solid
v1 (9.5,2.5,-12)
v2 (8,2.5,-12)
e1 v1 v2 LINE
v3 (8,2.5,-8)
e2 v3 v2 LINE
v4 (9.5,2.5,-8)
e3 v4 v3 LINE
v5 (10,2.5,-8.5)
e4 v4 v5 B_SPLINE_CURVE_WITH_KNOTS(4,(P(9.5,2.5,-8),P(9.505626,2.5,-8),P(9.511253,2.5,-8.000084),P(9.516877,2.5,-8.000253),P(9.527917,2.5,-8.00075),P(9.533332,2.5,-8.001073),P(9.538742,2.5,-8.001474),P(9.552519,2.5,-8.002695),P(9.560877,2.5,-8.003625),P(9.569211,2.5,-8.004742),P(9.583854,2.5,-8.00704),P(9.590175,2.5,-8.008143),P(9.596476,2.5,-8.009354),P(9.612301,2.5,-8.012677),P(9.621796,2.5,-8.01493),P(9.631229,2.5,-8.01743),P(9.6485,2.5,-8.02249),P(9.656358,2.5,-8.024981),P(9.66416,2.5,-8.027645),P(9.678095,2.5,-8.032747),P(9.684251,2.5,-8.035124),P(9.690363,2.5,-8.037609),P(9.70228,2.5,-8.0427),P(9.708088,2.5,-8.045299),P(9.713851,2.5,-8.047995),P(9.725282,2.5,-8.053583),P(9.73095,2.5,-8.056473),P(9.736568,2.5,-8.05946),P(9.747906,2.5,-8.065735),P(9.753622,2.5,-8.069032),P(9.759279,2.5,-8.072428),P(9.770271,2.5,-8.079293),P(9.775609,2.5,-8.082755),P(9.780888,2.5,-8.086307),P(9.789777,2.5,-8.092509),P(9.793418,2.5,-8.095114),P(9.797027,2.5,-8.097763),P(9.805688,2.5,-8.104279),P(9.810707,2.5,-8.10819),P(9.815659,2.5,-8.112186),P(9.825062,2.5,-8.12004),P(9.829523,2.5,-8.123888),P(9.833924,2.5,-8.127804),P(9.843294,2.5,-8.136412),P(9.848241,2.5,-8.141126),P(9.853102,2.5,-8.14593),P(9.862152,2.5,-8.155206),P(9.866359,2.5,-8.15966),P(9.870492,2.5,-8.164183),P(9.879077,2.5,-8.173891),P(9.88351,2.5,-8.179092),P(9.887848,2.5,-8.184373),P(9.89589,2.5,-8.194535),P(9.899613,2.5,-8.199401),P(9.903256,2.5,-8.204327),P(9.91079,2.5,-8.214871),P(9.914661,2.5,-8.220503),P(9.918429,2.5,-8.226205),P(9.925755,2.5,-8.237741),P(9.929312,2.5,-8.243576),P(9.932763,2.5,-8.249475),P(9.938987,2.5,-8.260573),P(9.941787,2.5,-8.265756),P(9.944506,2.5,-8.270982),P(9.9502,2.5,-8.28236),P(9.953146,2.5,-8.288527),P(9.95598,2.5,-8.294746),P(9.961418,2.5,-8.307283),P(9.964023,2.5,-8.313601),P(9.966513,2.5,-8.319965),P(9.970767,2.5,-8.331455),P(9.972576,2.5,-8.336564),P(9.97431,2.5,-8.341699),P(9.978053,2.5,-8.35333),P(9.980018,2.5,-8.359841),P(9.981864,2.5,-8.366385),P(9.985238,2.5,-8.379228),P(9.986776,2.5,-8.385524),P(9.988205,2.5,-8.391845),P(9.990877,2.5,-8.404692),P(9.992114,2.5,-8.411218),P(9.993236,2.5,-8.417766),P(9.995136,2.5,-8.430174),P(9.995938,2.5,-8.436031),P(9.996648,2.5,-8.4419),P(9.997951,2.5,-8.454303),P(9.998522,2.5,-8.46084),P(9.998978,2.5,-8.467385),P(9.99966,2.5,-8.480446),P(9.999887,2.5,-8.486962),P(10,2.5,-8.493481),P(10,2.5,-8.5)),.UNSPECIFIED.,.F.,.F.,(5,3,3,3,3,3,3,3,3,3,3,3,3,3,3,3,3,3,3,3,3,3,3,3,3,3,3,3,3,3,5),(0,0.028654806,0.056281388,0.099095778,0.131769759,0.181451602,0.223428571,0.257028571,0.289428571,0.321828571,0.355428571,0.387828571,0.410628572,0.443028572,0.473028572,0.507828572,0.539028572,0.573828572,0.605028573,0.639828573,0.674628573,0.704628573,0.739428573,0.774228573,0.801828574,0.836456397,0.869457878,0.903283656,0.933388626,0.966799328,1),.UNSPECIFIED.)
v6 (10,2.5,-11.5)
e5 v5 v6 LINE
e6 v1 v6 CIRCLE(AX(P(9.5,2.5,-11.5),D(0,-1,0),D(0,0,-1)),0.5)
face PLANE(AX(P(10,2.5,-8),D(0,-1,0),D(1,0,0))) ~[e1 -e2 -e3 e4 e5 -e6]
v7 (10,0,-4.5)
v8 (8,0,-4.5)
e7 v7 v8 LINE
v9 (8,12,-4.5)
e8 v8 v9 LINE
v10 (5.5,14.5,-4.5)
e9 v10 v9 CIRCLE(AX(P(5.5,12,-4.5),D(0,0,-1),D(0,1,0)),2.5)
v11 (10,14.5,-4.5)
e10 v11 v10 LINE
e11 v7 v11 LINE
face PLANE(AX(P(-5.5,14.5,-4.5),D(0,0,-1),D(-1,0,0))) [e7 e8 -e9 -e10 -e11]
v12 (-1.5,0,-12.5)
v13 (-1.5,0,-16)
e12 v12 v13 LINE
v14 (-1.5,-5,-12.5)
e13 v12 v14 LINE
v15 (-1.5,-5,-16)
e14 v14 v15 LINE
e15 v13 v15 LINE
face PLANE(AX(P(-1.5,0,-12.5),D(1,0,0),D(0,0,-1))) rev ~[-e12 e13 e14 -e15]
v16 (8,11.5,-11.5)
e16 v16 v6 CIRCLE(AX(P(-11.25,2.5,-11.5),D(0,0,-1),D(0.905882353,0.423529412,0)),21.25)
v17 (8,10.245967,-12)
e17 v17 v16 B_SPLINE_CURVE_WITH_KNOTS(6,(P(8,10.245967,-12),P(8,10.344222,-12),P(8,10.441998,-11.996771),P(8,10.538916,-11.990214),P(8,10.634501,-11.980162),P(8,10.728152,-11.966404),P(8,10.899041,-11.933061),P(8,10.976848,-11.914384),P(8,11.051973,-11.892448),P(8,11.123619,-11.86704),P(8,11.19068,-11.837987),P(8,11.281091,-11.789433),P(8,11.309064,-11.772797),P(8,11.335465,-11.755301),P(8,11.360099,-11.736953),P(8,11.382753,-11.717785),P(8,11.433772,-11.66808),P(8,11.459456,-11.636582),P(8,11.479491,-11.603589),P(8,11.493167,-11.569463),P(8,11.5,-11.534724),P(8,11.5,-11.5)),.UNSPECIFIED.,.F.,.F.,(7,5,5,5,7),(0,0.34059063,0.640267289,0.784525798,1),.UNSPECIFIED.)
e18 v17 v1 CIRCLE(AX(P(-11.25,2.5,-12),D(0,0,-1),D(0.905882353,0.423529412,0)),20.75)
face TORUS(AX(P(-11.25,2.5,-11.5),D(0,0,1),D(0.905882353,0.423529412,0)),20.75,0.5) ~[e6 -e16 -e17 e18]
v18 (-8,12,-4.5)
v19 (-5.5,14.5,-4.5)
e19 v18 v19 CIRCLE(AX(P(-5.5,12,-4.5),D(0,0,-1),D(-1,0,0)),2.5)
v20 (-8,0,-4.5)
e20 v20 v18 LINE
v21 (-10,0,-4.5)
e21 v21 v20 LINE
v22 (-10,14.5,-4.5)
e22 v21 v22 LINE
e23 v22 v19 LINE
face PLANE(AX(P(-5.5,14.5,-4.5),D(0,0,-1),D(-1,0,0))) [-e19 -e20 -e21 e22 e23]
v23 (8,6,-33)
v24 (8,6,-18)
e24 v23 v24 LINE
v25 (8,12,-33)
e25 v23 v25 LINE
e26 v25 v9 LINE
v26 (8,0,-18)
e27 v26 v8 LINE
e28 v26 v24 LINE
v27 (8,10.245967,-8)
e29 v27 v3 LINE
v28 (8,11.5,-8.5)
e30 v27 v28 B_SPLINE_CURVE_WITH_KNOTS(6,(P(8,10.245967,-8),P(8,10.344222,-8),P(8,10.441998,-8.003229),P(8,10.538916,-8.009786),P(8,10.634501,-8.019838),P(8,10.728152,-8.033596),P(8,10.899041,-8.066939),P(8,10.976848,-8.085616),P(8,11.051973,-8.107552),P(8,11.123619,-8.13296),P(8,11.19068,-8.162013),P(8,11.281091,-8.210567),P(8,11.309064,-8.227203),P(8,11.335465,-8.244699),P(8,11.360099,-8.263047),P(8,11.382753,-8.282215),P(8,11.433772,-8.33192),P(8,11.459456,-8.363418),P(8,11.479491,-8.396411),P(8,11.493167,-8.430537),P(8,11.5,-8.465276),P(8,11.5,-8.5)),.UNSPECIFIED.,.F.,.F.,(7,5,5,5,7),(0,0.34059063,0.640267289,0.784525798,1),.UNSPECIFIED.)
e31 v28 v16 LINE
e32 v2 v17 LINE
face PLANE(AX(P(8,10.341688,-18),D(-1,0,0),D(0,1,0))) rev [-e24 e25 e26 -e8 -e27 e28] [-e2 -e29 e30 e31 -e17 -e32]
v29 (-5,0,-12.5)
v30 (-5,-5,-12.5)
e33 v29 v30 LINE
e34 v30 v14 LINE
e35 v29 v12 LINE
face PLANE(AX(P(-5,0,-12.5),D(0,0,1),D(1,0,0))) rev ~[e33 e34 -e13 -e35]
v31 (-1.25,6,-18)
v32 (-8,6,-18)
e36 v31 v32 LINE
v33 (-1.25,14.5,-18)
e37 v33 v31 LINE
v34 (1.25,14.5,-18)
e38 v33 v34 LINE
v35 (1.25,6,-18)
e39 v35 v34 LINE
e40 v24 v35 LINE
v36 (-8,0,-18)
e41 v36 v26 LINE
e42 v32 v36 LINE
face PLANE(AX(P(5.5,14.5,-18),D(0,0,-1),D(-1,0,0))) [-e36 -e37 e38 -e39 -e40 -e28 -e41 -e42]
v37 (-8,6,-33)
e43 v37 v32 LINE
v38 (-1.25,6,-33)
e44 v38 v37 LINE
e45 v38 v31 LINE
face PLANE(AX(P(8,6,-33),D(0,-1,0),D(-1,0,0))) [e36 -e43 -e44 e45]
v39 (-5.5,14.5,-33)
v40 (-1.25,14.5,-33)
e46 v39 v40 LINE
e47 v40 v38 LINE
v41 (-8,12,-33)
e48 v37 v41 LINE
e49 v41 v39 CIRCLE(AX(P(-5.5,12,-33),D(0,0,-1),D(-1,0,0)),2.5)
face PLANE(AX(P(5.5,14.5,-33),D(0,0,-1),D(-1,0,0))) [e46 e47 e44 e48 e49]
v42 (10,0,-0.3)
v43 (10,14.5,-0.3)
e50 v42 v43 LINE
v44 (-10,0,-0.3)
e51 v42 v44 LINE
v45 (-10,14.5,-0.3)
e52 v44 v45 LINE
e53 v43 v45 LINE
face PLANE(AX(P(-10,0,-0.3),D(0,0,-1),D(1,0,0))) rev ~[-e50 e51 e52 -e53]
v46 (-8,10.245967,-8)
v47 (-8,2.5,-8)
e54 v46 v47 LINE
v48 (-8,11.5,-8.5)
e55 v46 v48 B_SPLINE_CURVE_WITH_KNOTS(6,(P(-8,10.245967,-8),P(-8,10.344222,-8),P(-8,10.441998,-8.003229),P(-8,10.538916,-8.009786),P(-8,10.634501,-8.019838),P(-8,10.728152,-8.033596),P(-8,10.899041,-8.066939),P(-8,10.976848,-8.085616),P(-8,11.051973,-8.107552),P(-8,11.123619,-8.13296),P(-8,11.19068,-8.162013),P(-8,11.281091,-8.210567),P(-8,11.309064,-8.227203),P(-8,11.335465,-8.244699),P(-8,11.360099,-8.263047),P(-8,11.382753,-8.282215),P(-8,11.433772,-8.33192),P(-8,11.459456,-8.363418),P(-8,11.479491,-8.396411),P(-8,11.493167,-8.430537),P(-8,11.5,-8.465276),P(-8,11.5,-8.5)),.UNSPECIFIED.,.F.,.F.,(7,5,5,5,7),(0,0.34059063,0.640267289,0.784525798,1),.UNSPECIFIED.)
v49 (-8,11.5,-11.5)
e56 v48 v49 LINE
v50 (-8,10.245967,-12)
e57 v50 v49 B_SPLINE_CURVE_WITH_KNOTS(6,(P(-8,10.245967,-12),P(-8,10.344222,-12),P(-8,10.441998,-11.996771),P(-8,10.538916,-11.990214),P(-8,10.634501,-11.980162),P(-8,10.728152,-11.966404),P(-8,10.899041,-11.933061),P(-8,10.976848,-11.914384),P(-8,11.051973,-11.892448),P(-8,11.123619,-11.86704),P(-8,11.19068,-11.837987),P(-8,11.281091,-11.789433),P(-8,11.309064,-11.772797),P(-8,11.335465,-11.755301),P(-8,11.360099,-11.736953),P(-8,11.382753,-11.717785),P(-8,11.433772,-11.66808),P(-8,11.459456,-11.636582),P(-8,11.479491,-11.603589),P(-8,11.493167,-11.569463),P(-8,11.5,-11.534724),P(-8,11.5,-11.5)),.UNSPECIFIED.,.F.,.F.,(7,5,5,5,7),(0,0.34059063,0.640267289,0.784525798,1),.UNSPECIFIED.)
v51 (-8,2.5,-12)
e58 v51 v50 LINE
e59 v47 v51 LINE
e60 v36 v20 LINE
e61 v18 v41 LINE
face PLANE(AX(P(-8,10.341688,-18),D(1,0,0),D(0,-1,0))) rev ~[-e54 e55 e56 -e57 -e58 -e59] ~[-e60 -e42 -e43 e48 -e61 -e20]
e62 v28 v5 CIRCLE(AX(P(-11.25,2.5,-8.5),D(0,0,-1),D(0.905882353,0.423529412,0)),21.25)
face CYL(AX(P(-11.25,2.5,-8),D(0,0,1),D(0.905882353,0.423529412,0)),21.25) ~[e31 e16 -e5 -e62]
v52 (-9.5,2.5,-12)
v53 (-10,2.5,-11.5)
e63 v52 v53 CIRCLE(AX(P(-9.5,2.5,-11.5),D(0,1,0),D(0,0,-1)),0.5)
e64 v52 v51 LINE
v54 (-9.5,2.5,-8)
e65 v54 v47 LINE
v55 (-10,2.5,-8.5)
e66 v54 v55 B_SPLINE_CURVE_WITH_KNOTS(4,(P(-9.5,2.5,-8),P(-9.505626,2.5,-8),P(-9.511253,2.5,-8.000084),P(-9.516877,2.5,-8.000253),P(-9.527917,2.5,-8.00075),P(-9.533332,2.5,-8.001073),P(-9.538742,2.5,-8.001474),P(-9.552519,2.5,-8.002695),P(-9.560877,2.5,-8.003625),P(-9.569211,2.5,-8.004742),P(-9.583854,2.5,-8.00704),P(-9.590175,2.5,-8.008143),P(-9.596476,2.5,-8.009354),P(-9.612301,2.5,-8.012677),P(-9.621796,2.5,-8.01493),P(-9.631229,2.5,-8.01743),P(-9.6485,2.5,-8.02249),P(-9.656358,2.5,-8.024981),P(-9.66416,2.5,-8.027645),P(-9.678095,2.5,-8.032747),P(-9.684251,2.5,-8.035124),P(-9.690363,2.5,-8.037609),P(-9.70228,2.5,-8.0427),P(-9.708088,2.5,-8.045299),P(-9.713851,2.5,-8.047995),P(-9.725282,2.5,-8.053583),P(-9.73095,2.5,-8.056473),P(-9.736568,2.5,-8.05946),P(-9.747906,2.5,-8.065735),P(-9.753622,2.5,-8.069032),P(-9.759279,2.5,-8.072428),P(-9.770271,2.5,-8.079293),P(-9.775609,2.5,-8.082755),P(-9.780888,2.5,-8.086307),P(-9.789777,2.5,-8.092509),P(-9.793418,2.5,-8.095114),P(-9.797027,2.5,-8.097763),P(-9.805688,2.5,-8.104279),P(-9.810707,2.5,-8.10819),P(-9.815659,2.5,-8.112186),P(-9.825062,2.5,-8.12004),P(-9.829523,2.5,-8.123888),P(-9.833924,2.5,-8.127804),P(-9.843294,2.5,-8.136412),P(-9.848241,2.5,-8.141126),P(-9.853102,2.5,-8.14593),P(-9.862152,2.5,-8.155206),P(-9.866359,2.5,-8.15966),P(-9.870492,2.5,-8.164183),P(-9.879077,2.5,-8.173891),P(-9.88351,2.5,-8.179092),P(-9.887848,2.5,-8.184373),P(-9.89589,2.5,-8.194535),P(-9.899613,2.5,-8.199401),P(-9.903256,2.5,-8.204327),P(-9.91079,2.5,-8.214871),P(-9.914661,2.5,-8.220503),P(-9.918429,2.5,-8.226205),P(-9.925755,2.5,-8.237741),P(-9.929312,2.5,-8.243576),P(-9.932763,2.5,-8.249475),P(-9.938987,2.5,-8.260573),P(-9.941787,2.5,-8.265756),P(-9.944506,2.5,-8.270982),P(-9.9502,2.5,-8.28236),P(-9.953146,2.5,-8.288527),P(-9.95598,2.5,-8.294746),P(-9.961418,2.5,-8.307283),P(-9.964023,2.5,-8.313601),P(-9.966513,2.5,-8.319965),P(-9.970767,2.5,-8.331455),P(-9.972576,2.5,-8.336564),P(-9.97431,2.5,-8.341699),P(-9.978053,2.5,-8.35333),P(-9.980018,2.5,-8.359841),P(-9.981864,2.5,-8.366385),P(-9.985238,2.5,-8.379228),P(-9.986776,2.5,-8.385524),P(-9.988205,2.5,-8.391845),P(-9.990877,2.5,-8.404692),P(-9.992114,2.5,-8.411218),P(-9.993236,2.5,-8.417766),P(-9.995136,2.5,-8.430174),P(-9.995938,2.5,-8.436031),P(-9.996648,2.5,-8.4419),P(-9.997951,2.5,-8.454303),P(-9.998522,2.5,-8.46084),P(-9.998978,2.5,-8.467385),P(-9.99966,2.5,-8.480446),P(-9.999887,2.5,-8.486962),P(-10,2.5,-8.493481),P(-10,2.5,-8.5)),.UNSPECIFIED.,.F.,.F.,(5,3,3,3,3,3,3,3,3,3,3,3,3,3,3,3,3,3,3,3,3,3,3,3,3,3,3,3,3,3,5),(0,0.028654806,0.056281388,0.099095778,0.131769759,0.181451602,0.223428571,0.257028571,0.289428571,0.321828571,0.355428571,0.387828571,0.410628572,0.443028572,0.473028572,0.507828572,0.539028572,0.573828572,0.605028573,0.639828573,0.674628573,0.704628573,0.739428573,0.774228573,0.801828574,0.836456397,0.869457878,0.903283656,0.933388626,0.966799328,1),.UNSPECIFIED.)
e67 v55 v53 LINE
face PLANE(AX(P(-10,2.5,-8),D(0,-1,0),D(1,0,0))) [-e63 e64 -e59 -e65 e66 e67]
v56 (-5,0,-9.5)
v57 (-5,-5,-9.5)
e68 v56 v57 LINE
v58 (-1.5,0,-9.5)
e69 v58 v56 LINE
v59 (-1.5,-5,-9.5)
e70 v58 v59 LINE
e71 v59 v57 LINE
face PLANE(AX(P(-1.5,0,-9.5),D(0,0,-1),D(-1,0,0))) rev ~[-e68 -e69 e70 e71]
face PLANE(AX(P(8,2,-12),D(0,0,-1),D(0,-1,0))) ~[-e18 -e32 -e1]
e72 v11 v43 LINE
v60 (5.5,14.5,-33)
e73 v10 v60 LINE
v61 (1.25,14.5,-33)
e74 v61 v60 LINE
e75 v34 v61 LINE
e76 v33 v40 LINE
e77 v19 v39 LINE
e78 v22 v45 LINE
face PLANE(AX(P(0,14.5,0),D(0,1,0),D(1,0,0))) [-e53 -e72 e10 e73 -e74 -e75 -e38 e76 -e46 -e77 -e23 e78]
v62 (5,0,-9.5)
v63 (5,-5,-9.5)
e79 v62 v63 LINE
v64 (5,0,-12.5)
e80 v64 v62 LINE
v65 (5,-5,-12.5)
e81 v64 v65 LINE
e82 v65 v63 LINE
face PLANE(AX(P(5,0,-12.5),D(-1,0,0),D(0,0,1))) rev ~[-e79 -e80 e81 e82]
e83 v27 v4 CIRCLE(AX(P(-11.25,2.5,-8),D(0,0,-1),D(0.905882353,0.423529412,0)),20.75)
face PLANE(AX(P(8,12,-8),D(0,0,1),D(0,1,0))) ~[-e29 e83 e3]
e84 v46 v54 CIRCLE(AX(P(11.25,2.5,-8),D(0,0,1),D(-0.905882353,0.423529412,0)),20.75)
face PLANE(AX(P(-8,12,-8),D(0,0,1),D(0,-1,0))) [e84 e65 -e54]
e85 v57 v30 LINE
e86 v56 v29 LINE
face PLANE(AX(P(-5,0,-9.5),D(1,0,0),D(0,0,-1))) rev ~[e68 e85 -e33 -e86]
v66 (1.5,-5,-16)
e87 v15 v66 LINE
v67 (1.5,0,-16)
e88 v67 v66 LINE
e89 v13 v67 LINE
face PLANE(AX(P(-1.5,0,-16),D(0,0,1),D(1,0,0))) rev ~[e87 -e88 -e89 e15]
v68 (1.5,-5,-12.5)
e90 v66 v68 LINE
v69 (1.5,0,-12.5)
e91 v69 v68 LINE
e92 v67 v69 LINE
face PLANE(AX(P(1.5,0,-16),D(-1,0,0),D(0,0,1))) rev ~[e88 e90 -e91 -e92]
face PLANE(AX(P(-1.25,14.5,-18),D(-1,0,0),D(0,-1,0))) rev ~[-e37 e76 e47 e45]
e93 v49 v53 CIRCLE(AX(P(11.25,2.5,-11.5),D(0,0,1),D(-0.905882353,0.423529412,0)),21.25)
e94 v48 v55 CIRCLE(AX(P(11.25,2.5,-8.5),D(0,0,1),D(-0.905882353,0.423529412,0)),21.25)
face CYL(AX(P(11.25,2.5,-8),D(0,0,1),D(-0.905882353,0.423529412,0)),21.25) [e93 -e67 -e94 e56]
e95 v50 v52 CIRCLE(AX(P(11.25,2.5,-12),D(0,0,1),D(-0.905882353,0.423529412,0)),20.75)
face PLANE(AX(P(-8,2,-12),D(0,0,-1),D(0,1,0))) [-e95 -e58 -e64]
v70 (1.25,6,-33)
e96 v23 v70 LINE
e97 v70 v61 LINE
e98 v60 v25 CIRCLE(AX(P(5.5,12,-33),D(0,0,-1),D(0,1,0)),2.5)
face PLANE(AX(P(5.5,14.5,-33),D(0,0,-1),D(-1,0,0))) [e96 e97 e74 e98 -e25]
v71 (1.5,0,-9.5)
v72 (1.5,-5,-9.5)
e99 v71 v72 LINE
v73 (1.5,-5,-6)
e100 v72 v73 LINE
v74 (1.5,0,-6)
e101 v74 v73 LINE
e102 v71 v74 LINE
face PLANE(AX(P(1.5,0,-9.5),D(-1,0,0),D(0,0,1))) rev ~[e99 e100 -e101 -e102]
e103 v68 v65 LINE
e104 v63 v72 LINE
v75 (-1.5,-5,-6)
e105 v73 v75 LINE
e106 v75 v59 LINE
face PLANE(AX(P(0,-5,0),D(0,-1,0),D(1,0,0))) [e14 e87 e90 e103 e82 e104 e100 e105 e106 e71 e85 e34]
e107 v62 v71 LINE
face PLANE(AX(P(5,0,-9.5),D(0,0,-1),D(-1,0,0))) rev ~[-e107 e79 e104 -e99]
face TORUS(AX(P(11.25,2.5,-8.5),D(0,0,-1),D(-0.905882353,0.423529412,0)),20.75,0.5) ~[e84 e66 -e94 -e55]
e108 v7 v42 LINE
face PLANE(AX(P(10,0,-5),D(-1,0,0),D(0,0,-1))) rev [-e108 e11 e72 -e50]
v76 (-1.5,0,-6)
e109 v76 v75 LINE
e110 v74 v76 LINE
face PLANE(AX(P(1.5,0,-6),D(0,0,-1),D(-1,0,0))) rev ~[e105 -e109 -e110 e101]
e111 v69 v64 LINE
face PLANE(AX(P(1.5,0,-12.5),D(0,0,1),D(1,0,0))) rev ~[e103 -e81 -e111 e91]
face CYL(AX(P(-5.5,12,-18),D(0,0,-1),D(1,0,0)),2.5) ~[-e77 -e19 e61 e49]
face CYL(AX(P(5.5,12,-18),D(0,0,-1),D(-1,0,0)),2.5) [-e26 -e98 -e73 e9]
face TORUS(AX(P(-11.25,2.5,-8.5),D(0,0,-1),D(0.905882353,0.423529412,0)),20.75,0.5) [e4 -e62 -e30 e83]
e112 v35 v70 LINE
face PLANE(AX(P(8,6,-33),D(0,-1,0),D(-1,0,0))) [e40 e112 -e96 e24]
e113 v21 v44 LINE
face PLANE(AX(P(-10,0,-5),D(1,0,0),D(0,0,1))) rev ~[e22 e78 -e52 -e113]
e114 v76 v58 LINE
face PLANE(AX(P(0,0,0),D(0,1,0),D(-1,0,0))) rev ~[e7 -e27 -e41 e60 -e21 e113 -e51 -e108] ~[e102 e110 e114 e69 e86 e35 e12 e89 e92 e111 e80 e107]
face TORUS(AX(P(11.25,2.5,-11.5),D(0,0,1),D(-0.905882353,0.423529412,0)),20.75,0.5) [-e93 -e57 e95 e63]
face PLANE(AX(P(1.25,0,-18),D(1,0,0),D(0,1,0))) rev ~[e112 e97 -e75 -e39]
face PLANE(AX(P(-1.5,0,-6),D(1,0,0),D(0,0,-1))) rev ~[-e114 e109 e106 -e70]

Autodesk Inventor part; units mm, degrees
ref_plane "YZ Plane" through (0, 0, 0) normal (1, 0, 0) x (0, 1, 0)
ref_plane "XZ Plane" through (0, 0, 0) normal (0, 1, 0) x (-1, 0, 0)
ref_plane "XY Plane" through (0, 0, 0) normal (0, 0, 1) x (1, 0, 0)
sketch "スケッチ1" plane through (0, 0, 0) normal (0, 1, 0) x (-1, 0, 0)
  line L0 (10, -0.3) -> (0, -0.3)
  line L1 (0, -0.3) -> (0, -5)
  line L2 (0, -5) -> (10, -5)
  line L3 (10, -5) -> (10, -0.3)
  line L4 (8.5, -5) -> (0, -5)
  line L5 (0, -5) -> (0, -18)
  line L6 (0, -18) -> (8.5, -18)
  line L7 (8.5, -18) -> (8.5, -5)
  line L8 (10, -18) -> (0, -18)
  line L9 (0, -18) -> (0, -22.7)
  line L10 (0, -22.7) -> (10, -22.7)
  line L11 (10, -22.7) -> (10, -18)
  point P0 (0, 0)
  dimension "d0" = 10
  dimension "d2" = 1.5
  dimension "d3" = 13
  dimension "d34" = 5
  dimension "d35" = 0.3
extrude "押し出し1" add sketch "スケッチ1" along normal blind 15
sketch "スケッチ3" plane through (-10, 0, -18) normal (0, 0, 1) x (1, 0, 0)
  line L0 (0, 0) -> (1.5, 0) projected
  line L1 (1.5, 0) -> (1.5, 15) projected
  line L2 (0, 15) -> (1.5, 15) projected
  line L3 (0, 0) -> (0, 15) projected
  line L4 (0, 0) -> (10, 0) projected
  line L5 (10, 0) -> (10, 15) projected
  line L6 (0, 15) -> (10, 15) projected
  line L7 (0, 0) -> (0, 15) projected
  circle A0 centre (4.5, 12) radius 3
  circle A1 centre (4.5, 12) radius 2.5
  line L8 (2, 12) -> (2, 0)
  line L9 (4.5, 14.5) -> (10, 14.5)
  point P0 (1.5, 15)
  point P1 (1.5, 0)
  dimension "d6" = 6
  dimension "d7" = 0.5
extrude "押し出し2" cut sketch "スケッチ3" along normal up to surface (13 mm away) contours L1 A0 L8 L4 | L1 L6 A0 | A0 L9 A1 L8 | L6 L5 L9 A0 picked at (5.4334, 14.5914)
sketch "スケッチ4" plane through (0, 15, 0) normal (0, 1, 0) x (1, 0, 0)
  line L0 (0, 5) -> (-10, 5) projected
  line L1 (-10, 5) -> (-10, 0.3) projected
  line L2 (-10, 0.3) -> (0, 0.3) projected
  line L3 (0, 0.3) -> (0, 5) projected
  point P0 (0, 0)
extrude "押し出し3" cut sketch "スケッチ4" against normal up to surface (0.5 mm away)
sketch "スケッチ5" plane through (-8, 0, -18) normal (-1, 0, 0) x (0, 0, 1)
  line L0 (13, 0) -> (18, 0) projected
  line L1 (13, 0) -> (3, 0)
  line L2 (3, 0) -> (3, 15)
  line L3 (3, 15) -> (13, 15)
  line L4 (13, 15) -> (13, 0)
  line L5 (6, 12) -> (10, 12)
  line L6 (10, 12) -> (10, 2)
  line L7 (10, 2) -> (6, 2)
  line L8 (6, 2) -> (6, 12)
  line L9 (13, 0) -> (0, 0) projected
  point P0 (6.5, 0)
  point P1 (8, 12)
  point P2 (8, 15)
  dimension "d12" = 10
  dimension "d13" = 3
  dimension "d14" = 2
  dimension "d15" = 4
  dimension "d21" = 15
extrude "押し出し4" add sketch "スケッチ5" along normal blind 2 contours L5 L6 L7 L8
sketch "スケッチ6" plane through (-8, 2, -8) normal (0, 0, 1) x (1, 0, 0)
  line L0 (0, 10) -> (0, 0) projected
  line L1 (0, 10) -> (-2, 10) projected
  line L2 (-2, 0) -> (-2, 10) projected
  line L3 (0, 0) -> (-2, 0) projected
  line L4 (0, 0) -> (0, 10) projected
  arc A0 (0, 9.5) -> (-2, 0.5) centre (19.25, 0.5) ccw
  line L5 (-2, 0.5) -> (0, 0.5)
  point P0 (8, -2)
  point P1 (0, 0.5)
  dimension "d22" = 0.5
  dimension "d23" = 0.5
extrude "押し出し5" cut sketch "スケッチ6" against normal up to surface (4 mm away) contours L0 A0 L2 L1 | L0 L3 L2 L5
fillet "フィレット1" radius 0.5 2 edges at (-9.494, 7.1098, -12) (-9.494, 7.1098, -8)
mirror "ミラー1" about plane through (0, 0, -0.3) normal (1, 0, 0)
sketch "スケッチ7" plane through (-5.5, 14.5, -5) normal (0, 0, -1) x (-1, 0, 0)
  line L0 (4.5, 0) -> (0, 0) projected
  arc A0 (2.5, -2.5) -> (0, 0) centre (0, -2.5) ccw projected
  line L1 (2.5, -14.5) -> (2.5, -2.5) projected
  line L2 (4.5, -14.5) -> (2.5, -14.5) projected
  line L3 (4.5, -14.5) -> (4.5, 0) projected
  line L4 (-15.5, 0) -> (-11, 0) projected
  line L5 (-15.5, -14.5) -> (-15.5, 0) projected
  line L6 (-15.5, -14.5) -> (-13.5, -14.5) projected
  line L7 (-13.5, -14.5) -> (-13.5, -2.5) projected
  arc A1 (-11, 0) -> (-13.5, -2.5) centre (-11, -2.5) ccw projected
  point P0 (-5.5, -14.5)
extrude "押し出し6" cut sketch "スケッチ7" against normal blind 0.5
sketch "スケッチ13" plane through (-10, 14.5, -0.3) normal (0, 1, 0) x (1, 0, 0)
  arc A0 (21.586, 79.673) -> (5.1529, 40) centre (157.8276, 0) ccw projected
  arc A1 (46.2266, 111.6009) -> (0, 0) centre (157.8276, 0) ccw projected
  line L0 (0, 22.4) -> (0, 32.4) projected
  line L1 (0, 22.4) -> (0, 22.4) projected
  line L2 (0, 17.7) -> (0, 22.4) projected
  line L3 (0, 17.7) -> (2, 17.7) projected
  line L4 (0, 32.4) -> (20, 32.4) projected
  point P0 (10, -0.3)
  point P1 (0.9956, 17.7)
  point P2 (3.3615, 32.4)
extrude "押し出し14" cut sketch "スケッチ13" along normal through all both and the other way through all
mirror "ミラー2" about plane through (0, 0, 0) normal (1, 0, 0) of "押し出し14"
sketch "スケッチ14" plane through (0, 0, 0) normal (0, -1, 0) x (1, 0, 0)
  line L0 (1.5, -6) -> (-1.5, -6)
  line L1 (-1.5, -6) -> (-1.5, -16)
  line L2 (-1.5, -16) -> (1.5, -16)
  line L3 (1.5, -16) -> (1.5, -6)
  line L4 (5, -9.5) -> (-5, -9.5)
  line L5 (-5, -9.5) -> (-5, -12.5)
  line L6 (-5, -12.5) -> (5, -12.5)
  line L7 (5, -12.5) -> (5, -9.5)
  point P0 (0, 0)
  point P1 (5, -11)
  point P2 (1.5, -11)
  point P3 (0, -6)
  point P4 (0, -9.5)
  point P5 (1.5, -9.5)
  point P6 (-1.5, -9.5)
  point P7 (-1.5, -12.5)
  point P8 (1.5, -12.5)
  dimension "d65" = 10
  dimension "d66" = 3
  dimension "d70" = 6
extrude "押し出し15" add sketch "スケッチ14" along normal blind 5
sketch "スケッチ15" plane through (0, 0, 0) normal (0, -1, 0) x (1, 0, 0)
  arc A0 (-9.0044, -18) -> (-8.4023, -22.7) centre (147.8276, -0.3) ccw projected
  line L0 (-9.0044, -18) -> (9.0044, -18)
  line L1 (9.0044, -18) -> (9.0044, -22.7)
  line L2 (9.0044, -22.7) -> (-9.0044, -22.7)
  line L3 (-9.0044, -22.7) -> (-9.0044, -18)
  point P0 (0, 0)
  point P1 (8.4023, -22.7)
extrude "押し出し16" cut sketch "スケッチ15" against normal through all
sketch "スケッチ16" plane through (5.5, 14.5, -18) normal (0, 0, -1) x (-1, 0, 0)
  line L0 (13.5, -14.5) -> (13.5, -2.5) projected
  arc A0 (13.5, -2.5) -> (11, 0) centre (11, -2.5) ccw projected
  line L1 (11, 0) -> (0, 0) projected
  arc A1 (0, 0) -> (-2.5, -2.5) centre (0, -2.5) ccw projected
  line L2 (-2.5, -14.5) -> (-2.5, -2.5) projected
  line L3 (13.5, -14.5) -> (-2.5, -14.5) projected
  line L4 (6.75, -14.5) -> (4.25, -14.5)
  line L5 (4.25, -14.5) -> (4.25, 0)
  line L6 (4.25, 0) -> (6.75, 0)
  line L7 (6.75, 0) -> (6.75, -14.5)
  point P0 (5.5, -14.5)
  point P1 (5.5, -14.5)
  point P2 (6.75, 0)
  dimension "d73" = 2.5
extrude "押し出し17" add sketch "スケッチ16" along normal blind 15 contours L3 L7 L1 A0 L0 | L3 L2 A1 L1 L5
sketch "スケッチ17" plane through (5.5, 14.5, -33) normal (0, 0, -1) x (-1, 0, 0)
  line L0 (13.5, -14.5) -> (-2.5, -14.5)
  line L1 (-2.5, -14.5) -> (-2.5, -8.5)
  line L2 (-2.5, -8.5) -> (13.5, -8.5)
  line L3 (13.5, -8.5) -> (13.5, -14.5)
  line L4 (-2.5, -2.5) -> (-2.5, -14.5) projected
  point P0 (5.5, -14.5)
  dimension "d76" = 6
extrude "押し出し18" cut sketch "スケッチ17" against normal blind 15
equation "\"d22\" = d23"
properties part number "connector_male"
